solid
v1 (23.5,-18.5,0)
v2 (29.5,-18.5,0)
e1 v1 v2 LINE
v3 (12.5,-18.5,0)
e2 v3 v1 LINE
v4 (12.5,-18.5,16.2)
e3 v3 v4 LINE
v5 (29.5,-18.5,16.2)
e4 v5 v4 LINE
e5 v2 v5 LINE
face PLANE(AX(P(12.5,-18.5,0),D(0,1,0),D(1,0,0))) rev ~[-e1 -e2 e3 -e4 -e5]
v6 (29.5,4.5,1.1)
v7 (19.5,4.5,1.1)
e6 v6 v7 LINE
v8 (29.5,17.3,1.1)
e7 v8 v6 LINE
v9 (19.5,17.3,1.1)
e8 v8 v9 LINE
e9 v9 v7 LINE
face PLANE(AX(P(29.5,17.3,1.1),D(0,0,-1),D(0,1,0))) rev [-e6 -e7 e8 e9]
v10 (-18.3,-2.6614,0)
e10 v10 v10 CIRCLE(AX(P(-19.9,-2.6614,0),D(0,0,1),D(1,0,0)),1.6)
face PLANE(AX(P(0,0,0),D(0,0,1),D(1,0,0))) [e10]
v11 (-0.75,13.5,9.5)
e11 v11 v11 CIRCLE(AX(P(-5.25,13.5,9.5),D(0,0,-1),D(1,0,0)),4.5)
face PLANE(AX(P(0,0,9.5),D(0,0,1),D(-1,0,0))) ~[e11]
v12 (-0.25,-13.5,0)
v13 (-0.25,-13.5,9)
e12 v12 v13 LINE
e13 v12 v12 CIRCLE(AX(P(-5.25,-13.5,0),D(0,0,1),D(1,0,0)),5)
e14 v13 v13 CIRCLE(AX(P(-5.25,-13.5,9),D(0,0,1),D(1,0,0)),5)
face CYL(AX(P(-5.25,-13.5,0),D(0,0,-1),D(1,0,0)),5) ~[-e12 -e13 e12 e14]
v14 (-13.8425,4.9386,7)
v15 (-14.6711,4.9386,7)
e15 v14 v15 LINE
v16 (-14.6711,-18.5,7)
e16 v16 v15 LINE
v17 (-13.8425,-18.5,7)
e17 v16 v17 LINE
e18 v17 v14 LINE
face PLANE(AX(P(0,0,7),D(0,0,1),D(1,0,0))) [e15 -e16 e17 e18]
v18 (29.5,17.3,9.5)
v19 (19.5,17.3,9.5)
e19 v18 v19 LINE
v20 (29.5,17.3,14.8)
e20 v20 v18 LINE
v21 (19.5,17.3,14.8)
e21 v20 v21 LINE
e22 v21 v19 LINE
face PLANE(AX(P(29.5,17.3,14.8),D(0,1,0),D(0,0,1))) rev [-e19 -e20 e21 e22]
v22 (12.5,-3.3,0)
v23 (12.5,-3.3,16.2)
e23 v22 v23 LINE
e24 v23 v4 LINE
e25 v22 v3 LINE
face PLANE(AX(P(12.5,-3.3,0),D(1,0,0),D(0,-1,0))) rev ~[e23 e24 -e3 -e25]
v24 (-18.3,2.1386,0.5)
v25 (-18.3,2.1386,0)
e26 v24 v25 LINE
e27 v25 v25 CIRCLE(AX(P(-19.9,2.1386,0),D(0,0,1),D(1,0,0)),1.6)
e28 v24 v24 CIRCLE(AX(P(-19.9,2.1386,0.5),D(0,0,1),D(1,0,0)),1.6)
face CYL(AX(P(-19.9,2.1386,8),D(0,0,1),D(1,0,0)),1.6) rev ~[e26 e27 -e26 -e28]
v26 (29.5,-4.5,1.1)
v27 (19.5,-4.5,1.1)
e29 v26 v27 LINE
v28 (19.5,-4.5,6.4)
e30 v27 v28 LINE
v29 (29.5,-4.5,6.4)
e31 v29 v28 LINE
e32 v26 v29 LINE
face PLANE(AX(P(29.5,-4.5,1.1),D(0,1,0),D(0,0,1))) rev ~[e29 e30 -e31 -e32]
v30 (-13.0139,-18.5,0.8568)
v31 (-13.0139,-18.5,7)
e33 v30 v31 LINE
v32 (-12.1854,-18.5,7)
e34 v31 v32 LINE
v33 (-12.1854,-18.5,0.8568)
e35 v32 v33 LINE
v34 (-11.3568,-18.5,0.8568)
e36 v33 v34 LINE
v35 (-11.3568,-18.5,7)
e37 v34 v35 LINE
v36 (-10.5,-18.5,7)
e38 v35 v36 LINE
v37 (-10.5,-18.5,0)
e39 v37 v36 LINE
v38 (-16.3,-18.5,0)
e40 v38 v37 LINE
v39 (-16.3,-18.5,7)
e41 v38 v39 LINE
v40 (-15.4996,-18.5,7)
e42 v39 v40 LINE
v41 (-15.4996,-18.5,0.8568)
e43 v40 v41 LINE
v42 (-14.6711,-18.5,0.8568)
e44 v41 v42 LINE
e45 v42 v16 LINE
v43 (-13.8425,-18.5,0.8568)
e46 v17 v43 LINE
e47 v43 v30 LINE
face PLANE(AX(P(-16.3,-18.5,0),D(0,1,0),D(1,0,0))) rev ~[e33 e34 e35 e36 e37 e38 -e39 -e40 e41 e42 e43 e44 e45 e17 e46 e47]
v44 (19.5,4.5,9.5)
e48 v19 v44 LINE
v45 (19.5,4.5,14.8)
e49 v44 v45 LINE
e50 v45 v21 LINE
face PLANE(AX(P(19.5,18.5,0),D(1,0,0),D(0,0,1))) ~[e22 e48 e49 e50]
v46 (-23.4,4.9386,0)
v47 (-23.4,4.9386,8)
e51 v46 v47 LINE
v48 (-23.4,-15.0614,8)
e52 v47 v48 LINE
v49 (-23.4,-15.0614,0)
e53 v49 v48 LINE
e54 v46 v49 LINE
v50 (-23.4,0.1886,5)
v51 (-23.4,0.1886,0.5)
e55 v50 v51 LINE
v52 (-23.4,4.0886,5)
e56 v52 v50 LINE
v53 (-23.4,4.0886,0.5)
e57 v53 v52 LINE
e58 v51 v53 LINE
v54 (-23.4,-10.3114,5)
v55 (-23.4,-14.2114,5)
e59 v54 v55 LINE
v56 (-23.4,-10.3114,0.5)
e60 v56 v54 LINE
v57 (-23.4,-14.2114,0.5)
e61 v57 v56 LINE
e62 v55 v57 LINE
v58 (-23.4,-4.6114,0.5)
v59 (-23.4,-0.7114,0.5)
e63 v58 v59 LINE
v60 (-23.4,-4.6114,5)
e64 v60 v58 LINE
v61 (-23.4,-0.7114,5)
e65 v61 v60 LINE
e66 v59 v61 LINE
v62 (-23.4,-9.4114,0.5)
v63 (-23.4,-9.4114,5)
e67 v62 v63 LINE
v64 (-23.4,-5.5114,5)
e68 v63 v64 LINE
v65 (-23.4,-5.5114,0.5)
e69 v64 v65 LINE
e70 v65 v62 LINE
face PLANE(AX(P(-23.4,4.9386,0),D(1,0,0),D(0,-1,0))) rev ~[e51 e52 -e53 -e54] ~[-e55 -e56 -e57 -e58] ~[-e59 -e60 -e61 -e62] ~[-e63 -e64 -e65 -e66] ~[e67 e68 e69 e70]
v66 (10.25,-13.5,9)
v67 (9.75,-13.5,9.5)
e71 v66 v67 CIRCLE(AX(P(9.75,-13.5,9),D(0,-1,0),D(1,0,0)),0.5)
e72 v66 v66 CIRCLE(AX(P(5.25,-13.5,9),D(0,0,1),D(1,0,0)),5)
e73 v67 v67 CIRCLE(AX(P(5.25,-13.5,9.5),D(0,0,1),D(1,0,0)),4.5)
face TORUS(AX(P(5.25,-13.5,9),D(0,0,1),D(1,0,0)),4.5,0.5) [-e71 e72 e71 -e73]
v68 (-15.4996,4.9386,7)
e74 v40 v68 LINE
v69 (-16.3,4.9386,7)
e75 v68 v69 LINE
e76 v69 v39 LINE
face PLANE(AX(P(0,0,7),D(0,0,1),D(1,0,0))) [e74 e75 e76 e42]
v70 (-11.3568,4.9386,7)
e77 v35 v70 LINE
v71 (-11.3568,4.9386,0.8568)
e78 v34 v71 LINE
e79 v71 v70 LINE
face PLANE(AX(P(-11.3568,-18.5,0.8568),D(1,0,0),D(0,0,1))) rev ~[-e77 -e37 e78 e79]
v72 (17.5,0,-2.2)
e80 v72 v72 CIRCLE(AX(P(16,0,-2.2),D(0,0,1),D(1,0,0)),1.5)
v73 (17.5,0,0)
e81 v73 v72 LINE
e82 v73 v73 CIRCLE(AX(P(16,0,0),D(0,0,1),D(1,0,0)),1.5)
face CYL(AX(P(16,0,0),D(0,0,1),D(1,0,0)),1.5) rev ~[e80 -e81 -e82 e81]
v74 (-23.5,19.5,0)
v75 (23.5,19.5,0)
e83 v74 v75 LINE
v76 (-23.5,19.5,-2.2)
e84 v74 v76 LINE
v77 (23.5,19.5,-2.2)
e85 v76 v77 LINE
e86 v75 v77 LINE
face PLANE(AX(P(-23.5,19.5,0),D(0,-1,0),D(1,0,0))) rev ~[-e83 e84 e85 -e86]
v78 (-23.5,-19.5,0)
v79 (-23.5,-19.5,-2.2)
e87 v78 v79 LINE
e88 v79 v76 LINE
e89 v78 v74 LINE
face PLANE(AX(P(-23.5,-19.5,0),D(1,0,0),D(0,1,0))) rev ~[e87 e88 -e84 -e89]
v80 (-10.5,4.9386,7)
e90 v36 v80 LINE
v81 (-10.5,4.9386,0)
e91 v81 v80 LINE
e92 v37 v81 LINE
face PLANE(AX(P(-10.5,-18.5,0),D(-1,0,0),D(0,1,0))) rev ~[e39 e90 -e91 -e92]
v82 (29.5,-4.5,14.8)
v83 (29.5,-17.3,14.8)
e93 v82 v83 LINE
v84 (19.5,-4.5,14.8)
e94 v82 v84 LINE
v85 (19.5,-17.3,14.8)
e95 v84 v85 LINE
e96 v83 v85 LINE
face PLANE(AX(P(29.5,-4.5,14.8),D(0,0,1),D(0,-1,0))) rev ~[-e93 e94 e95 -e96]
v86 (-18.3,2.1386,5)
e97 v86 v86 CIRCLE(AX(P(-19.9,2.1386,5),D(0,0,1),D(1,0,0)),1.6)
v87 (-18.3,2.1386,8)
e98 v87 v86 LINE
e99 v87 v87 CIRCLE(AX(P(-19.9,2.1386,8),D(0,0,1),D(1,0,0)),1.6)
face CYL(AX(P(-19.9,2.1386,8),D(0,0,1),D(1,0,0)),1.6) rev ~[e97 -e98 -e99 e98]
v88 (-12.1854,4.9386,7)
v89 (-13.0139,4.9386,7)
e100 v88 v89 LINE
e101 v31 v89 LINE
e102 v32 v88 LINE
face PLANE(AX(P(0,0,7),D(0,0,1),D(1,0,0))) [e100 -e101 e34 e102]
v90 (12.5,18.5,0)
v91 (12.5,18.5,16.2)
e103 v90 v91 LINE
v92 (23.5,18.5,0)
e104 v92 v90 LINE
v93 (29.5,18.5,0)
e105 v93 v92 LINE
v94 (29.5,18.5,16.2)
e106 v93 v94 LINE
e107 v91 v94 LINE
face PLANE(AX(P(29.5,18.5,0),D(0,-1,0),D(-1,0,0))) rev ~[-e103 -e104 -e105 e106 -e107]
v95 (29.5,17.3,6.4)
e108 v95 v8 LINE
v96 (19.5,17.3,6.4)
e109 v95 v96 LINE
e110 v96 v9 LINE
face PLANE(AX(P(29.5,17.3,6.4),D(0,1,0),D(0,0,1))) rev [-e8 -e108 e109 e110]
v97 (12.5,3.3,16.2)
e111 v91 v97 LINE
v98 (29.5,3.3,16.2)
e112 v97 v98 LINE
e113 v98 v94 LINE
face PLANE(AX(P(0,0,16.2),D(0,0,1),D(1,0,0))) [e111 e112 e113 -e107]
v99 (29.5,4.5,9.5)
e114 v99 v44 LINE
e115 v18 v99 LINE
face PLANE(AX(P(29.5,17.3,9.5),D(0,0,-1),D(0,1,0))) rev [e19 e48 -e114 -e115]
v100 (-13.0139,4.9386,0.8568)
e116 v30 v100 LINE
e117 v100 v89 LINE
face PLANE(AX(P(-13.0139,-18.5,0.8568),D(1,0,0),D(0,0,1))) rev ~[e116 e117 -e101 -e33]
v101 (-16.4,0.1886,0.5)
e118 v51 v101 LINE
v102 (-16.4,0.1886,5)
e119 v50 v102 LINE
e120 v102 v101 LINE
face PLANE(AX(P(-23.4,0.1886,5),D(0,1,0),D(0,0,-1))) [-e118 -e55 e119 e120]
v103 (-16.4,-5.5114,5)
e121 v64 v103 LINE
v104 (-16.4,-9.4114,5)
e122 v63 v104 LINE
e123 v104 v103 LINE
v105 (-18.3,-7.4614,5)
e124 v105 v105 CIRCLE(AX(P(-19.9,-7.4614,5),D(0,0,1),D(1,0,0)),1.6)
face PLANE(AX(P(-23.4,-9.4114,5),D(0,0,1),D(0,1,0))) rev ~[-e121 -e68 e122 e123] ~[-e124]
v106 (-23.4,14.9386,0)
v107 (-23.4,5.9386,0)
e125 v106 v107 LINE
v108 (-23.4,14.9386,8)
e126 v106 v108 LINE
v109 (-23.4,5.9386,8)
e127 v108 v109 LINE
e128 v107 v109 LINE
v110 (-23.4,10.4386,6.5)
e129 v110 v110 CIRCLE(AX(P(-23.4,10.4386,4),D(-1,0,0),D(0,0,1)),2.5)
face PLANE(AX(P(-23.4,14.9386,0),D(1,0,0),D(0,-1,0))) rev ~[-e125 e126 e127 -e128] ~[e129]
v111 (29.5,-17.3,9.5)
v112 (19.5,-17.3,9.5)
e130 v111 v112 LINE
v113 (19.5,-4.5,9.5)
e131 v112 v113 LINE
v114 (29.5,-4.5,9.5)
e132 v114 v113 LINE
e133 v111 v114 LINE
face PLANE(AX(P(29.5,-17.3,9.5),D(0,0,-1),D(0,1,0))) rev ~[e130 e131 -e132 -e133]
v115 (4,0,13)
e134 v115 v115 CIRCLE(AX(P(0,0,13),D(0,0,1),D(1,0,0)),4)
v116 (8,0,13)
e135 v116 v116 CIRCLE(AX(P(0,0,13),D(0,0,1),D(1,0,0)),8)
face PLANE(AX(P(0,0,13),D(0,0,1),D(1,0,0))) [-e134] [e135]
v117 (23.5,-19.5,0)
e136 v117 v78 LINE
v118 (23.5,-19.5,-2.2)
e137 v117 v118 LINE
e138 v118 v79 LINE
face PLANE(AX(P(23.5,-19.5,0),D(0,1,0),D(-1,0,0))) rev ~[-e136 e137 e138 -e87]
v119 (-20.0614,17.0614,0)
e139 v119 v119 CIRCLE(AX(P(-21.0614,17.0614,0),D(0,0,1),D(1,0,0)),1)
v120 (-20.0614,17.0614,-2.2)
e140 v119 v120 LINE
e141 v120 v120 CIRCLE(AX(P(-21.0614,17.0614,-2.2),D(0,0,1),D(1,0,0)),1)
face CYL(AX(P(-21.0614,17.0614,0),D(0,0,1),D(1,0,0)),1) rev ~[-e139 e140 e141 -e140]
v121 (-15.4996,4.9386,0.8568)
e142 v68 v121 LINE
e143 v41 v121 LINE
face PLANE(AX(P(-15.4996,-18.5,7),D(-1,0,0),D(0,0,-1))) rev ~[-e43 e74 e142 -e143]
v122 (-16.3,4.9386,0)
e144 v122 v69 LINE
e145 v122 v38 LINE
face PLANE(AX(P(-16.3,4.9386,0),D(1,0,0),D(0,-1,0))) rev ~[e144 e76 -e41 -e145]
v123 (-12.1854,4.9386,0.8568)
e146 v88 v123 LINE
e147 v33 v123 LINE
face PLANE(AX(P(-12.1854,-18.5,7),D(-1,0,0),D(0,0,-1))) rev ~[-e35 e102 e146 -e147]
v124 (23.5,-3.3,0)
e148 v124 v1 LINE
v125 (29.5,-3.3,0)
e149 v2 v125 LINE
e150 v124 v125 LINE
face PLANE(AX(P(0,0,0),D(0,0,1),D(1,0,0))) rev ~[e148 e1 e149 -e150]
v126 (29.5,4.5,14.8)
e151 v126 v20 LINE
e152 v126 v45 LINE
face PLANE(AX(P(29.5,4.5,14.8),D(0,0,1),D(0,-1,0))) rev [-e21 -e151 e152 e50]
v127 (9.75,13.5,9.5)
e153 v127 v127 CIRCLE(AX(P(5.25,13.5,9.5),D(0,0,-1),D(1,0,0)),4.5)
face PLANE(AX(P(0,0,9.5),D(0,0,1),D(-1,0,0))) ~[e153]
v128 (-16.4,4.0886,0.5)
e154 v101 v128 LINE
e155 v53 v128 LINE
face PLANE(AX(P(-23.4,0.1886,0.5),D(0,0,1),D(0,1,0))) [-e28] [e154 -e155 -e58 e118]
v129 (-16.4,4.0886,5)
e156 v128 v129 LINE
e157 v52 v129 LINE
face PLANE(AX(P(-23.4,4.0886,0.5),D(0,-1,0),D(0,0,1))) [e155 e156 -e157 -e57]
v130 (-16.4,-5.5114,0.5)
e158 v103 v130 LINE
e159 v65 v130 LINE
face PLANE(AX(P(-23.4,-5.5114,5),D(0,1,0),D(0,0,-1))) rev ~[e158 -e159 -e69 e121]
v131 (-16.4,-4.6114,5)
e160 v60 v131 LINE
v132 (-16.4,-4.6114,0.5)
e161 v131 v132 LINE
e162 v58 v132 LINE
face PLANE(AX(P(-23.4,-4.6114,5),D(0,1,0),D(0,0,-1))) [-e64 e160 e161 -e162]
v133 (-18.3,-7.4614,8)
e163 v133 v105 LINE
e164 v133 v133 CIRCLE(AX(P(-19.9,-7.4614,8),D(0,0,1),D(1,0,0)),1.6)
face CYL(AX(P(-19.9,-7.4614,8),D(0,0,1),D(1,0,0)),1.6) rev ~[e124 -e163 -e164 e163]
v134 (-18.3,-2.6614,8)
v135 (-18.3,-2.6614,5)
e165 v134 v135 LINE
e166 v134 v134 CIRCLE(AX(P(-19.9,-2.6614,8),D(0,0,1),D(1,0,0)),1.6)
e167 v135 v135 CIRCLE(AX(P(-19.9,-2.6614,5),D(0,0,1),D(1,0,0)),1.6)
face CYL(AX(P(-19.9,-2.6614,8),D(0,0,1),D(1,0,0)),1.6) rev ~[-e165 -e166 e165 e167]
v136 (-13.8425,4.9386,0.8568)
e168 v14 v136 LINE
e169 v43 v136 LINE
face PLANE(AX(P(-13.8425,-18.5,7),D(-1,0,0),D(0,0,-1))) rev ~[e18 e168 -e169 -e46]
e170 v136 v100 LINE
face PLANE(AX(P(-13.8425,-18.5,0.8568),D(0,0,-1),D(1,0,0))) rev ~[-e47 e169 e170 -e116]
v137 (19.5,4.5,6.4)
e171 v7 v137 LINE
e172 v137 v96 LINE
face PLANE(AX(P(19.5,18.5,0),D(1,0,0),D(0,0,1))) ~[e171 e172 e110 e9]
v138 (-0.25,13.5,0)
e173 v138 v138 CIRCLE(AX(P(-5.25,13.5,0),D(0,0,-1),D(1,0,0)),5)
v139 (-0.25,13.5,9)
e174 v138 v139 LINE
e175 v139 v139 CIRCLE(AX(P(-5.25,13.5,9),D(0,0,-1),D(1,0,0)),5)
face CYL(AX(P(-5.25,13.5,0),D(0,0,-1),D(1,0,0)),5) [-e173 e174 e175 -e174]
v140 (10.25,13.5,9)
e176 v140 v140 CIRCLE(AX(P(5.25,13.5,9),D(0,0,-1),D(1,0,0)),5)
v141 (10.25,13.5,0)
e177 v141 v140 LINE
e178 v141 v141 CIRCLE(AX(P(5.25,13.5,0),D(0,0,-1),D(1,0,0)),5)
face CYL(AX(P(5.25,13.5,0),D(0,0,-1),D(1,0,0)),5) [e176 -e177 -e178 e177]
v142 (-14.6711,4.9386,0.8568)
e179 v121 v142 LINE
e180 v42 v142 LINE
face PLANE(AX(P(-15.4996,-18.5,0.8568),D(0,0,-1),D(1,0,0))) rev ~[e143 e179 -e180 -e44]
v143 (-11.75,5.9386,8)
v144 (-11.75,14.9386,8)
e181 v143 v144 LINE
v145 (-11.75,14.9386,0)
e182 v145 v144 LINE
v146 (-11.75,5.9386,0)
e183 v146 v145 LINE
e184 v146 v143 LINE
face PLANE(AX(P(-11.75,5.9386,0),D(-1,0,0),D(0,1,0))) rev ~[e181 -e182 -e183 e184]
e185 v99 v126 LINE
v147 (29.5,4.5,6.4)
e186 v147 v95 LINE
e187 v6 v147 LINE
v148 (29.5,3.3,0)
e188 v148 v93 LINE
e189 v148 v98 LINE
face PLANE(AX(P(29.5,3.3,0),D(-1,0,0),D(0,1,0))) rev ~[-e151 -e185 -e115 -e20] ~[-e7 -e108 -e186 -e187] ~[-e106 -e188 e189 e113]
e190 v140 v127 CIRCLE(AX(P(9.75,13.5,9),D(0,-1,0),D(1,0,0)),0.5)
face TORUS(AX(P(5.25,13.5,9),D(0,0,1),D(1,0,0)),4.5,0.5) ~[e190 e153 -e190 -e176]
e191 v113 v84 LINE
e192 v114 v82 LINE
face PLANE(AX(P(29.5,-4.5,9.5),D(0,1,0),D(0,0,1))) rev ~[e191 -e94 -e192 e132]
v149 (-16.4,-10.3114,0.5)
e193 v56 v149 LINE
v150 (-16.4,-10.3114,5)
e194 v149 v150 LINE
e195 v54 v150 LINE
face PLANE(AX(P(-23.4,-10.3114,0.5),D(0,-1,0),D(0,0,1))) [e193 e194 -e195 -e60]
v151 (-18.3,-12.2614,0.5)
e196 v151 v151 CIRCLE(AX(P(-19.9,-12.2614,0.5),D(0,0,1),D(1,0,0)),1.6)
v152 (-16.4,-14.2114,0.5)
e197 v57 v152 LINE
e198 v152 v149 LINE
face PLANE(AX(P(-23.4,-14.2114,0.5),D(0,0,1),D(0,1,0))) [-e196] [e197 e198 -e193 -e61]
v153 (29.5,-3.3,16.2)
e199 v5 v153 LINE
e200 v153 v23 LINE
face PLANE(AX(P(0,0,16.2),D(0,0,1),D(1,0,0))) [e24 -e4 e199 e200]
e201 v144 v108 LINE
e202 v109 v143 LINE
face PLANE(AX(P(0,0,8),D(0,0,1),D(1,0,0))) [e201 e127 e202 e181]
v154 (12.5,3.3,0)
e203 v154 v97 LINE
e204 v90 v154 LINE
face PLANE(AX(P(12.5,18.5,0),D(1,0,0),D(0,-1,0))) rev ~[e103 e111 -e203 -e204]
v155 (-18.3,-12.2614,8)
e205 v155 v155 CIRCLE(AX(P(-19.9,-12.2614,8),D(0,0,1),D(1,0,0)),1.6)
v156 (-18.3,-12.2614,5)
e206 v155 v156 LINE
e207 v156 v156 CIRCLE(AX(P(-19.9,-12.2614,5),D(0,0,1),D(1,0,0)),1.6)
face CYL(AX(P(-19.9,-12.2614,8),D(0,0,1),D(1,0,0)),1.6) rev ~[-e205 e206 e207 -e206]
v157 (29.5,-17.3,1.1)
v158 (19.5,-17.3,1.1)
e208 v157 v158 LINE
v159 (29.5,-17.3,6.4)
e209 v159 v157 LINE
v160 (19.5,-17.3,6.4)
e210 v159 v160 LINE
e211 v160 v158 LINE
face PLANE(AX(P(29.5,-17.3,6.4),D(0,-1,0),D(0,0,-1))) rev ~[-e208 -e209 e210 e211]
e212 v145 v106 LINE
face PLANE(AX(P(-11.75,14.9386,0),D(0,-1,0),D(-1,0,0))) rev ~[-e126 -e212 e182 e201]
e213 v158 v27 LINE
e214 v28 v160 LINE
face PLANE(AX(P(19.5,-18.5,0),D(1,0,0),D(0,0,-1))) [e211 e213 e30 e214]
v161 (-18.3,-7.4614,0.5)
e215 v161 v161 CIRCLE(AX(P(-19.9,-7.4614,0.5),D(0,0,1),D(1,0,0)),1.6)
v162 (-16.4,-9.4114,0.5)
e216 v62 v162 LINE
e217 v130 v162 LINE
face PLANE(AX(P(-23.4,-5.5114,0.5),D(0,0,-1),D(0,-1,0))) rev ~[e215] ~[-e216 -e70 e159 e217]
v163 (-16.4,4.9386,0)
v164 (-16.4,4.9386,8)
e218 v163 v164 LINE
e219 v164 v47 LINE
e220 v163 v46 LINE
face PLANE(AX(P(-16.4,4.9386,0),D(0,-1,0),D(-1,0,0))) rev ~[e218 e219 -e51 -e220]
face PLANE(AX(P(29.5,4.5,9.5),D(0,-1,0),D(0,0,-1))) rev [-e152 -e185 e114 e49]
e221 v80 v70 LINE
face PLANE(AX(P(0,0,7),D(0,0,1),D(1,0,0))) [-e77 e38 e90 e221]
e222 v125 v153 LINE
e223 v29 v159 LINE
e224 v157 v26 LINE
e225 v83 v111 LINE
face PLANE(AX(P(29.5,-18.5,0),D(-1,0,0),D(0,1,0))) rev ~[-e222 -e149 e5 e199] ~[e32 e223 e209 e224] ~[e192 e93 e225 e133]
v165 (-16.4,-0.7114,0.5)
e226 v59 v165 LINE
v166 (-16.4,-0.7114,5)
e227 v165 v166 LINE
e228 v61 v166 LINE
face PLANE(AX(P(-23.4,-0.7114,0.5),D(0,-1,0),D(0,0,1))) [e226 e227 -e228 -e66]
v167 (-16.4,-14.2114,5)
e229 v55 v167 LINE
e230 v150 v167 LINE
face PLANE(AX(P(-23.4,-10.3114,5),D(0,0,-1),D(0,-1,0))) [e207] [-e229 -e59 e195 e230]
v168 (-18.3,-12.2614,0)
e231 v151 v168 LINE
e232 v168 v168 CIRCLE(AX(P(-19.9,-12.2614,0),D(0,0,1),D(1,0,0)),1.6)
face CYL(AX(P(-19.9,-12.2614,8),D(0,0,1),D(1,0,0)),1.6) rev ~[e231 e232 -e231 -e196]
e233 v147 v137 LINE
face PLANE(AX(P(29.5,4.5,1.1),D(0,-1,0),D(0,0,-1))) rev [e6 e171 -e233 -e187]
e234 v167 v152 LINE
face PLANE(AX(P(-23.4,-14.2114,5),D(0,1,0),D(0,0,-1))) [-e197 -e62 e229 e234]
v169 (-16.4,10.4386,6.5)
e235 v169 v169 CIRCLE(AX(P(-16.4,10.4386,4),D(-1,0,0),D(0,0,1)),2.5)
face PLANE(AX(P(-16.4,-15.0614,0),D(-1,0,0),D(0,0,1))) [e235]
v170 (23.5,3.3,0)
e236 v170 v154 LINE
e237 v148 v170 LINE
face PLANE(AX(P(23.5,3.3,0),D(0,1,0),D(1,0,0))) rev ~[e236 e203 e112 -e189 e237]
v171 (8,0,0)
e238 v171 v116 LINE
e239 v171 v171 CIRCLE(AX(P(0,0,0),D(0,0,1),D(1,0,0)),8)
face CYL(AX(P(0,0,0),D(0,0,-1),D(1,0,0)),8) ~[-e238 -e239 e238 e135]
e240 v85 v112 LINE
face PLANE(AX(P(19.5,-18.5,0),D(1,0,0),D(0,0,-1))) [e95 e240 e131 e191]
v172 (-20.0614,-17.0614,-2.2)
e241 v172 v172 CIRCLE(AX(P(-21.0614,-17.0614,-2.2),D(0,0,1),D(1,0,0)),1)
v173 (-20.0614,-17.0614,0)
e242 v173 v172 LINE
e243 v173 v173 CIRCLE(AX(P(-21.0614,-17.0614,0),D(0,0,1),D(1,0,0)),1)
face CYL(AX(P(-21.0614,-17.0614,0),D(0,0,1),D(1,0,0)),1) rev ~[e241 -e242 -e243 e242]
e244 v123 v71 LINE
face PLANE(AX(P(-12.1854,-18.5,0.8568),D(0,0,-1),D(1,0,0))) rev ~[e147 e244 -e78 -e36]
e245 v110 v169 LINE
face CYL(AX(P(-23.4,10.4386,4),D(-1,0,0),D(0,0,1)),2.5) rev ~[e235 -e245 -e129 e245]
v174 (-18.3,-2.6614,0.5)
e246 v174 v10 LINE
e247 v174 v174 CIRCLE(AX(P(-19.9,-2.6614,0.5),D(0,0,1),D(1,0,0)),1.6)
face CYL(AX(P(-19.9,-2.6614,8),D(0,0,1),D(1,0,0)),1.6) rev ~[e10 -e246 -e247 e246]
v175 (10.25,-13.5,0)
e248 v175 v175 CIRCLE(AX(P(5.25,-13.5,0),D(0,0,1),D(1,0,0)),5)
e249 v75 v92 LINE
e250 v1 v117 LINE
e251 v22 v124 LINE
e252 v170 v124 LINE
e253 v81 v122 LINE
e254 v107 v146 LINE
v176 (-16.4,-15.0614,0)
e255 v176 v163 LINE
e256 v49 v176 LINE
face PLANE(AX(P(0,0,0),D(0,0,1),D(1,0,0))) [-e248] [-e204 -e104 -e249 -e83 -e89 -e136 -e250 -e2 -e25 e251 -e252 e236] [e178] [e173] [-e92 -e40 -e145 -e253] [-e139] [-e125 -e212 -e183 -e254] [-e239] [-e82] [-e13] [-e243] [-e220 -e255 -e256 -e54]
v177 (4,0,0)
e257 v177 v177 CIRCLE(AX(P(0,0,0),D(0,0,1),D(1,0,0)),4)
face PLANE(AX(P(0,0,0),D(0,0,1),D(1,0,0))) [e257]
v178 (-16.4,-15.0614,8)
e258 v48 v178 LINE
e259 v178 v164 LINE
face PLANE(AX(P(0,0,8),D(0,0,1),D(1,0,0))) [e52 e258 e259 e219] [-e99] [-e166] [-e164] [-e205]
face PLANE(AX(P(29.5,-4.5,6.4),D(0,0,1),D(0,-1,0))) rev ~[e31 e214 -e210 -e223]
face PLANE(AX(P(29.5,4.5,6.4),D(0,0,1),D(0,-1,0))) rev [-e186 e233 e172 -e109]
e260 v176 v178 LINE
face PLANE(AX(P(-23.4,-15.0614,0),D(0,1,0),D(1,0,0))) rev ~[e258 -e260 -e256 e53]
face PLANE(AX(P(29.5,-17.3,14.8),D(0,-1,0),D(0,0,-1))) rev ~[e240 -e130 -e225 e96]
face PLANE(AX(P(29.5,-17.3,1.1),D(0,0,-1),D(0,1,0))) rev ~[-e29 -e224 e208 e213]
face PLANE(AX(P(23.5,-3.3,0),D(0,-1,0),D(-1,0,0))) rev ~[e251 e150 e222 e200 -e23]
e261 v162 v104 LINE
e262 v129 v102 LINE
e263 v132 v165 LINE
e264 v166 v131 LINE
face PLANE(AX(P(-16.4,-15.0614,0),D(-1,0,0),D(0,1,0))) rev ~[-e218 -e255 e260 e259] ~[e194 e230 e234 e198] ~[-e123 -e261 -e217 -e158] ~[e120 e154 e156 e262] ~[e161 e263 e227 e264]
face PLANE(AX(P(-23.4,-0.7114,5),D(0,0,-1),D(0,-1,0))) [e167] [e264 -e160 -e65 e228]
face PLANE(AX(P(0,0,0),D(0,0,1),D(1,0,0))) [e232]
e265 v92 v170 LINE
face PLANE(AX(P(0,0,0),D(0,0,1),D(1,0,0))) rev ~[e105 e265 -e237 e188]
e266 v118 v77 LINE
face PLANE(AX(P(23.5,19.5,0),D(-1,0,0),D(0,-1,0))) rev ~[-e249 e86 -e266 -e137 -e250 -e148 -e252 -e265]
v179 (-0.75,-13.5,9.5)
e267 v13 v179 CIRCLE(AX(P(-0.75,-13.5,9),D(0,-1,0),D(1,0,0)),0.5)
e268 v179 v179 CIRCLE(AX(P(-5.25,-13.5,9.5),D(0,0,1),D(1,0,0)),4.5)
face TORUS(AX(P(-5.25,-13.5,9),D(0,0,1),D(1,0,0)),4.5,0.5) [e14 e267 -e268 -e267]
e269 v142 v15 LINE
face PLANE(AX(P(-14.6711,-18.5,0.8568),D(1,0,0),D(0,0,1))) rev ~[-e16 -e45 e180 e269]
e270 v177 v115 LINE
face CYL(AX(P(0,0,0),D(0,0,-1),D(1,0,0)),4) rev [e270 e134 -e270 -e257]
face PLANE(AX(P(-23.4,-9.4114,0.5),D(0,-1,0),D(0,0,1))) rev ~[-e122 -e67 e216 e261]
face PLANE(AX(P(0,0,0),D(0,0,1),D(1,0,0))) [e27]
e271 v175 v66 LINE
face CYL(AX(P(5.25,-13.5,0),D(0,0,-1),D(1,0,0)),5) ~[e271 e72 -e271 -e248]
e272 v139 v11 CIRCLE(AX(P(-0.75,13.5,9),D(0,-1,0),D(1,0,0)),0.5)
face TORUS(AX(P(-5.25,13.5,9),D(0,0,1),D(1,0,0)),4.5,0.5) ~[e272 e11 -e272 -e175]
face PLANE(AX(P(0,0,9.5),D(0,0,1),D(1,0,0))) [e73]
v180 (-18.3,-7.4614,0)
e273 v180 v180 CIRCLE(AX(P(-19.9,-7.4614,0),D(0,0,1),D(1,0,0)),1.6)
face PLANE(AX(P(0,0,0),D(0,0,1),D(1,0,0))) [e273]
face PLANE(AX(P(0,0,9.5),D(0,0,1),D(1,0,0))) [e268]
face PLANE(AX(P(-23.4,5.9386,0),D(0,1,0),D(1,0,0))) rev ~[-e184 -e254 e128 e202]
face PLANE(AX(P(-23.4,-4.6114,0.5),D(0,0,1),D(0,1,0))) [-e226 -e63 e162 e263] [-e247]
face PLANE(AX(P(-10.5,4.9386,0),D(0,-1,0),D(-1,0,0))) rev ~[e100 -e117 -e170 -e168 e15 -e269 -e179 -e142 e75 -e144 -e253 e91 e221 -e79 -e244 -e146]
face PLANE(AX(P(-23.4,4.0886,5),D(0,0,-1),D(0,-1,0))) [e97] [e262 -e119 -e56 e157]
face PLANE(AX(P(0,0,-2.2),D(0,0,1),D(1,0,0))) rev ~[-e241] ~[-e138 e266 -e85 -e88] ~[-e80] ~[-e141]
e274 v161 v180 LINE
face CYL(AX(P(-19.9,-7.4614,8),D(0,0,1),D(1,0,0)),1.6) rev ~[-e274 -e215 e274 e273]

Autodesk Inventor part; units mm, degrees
ref_plane "YZ Plane" through (0, 0, 0) normal (1, 0, 0) x (0, 1, 0)
ref_plane "XZ Plane" through (0, 0, 0) normal (0, 1, 0) x (-1, 0, 0)
ref_plane "XY Plane" through (0, 0, 0) normal (0, 0, 1) x (1, 0, 0)
sketch "Skizze1" plane through (0, 0, 0) normal (0, 0, 1) x (1, 0, 0)
  line L0 (-23.5, 19.5) -> (23.5, 19.5)
  line L1 (23.5, 19.5) -> (23.5, -19.5)
  line L2 (23.5, -19.5) -> (-23.5, -19.5)
  line L3 (-23.5, -19.5) -> (-23.5, 19.5)
  line L4 (-23.5, -19.5) -> (23.5, 19.5) construction
  circle A0 centre (-21.0614, 17.0614) radius 1
  circle A1 centre (16, 0) radius 1.5
  line L5 (-23.5, 0) -> (23.5, 0) construction
  circle A2 centre (-21.0614, -17.0614) radius 1
  line L6 (-21.0614, -17.0614) -> (-21.0614, 17.0614) construction
  line L7 (-23.5, 19.5) -> (-21.0614, 17.0614) construction
  line L8 (12.5, -18.5) -> (29.5, -18.5)
  line L9 (29.5, -18.5) -> (29.5, -3.3)
  line L10 (29.5, -3.3) -> (12.5, -3.3)
  line L11 (12.5, -3.3) -> (12.5, -18.5)
  line L12 (12.5, 3.3) -> (29.5, 3.3)
  line L13 (29.5, 3.3) -> (29.5, 18.5)
  line L14 (29.5, 18.5) -> (12.5, 18.5)
  line L15 (12.5, 18.5) -> (12.5, 3.3)
  circle A3 centre (-5.25, -13.5) radius 5
  circle A4 centre (5.25, -13.5) radius 5
  circle A5 centre (-5.25, 13.5) radius 5
  circle A6 centre (5.25, 13.5) radius 5
  circle A7 centre (0, 0) radius 8
  circle A8 centre (0, 0) radius 4
  line L16 (-23.4, 5.9386) -> (-11.75, 5.9386)
  line L17 (-11.75, 5.9386) -> (-11.75, 14.9386)
  line L18 (-11.75, 14.9386) -> (-23.4, 14.9386)
  line L19 (-23.4, 14.9386) -> (-23.4, 5.9386)
  line L20 (-23.4, -15.0614) -> (-16.4, -15.0614)
  line L21 (-16.4, -15.0614) -> (-16.4, 4.9386)
  line L22 (-16.4, 4.9386) -> (-23.4, 4.9386)
  line L23 (-23.4, 4.9386) -> (-23.4, -15.0614)
  line L24 (0, 19.5) -> (0, -19.5) construction
  line L25 (-16.3, -18.5) -> (-10.5, -18.5)
  line L26 (-10.5, -18.5) -> (-10.5, 4.9386)
  line L27 (-10.5, 4.9386) -> (-16.3, 4.9386)
  line L28 (-16.3, 4.9386) -> (-16.3, -18.5)
  dimension "d0" = 39
  dimension "d1" = 47
  dimension "d2" = 3
  dimension "d3" = 2
  dimension "d4" = 38.3
  dimension "d5" = 6
  dimension "d6" = 45
  dimension "d7" = 10
  dimension "d8" = 0.5
  dimension "d9" = 1
  dimension "d10" = 16
  dimension "d11" = 15.2
  dimension "d13" = 6
  dimension "d14" = 17
  dimension "d15" = 15.2
  dimension "d16" = 1
  dimension "d17" = 8
  dimension "d18" = 20
  dimension "d19" = 7
  dimension "d20" = 0.1
  dimension "d21" = 5.8
  dimension "d22" = 0.1
  dimension "d23" = 1
  dimension "d24" = 1
  dimension "d25" = 0.1
  dimension "d26" = 9
  dimension "d27" = 1
  dimension "d28" = 1.5
extrude "Extrusion1" add sketch "Skizze1" against normal blind 2.2 contours L0 L1 L14 L15 L12 L10 L11 L8 L2 L3 | L1 L12 L15 L14 | L8 L11 L10 L1 | A3 | A4 | A5 | A6 | A7 | A8 | L19 L18 L17 L16 | L23 L22 L21 L20 | L28 L27 L26 L25
extrude "Extrusion2" add sketch "Skizze1" along normal blind 16.2 contours L14 L13 L12 L1 | L1 L12 L15 L14 | L8 L11 L10 L1 | L1 L10 L9 L8
sketch "Skizze2" plane through (29.5, -18.5, 0) normal (1, 0, 0) x (0, 0, -1)
  line L0 (-14.8, 1.2) -> (-9.5, 1.2)
  line L1 (-9.5, 1.2) -> (-9.5, 14)
  line L2 (-9.5, 14) -> (-14.8, 14)
  line L3 (-14.8, 14) -> (-14.8, 1.2)
  line L4 (-6.4, 1.2) -> (-1.1, 1.2)
  line L5 (-1.1, 1.2) -> (-1.1, 14)
  line L6 (-1.1, 14) -> (-6.4, 14)
  line L7 (-6.4, 14) -> (-6.4, 1.2)
  line L8 (0, 0) -> (0, 15.2) projected
  line L9 (-16.2, 15.2) -> (-16.2, 0) projected
  line L10 (-16.2, 7.6) -> (0, 7.6) construction
  line L11 (0, 38) -> (0, -1) projected
  point P0 (0, 18.5)
  dimension "d33" = 1.1
  dimension "d34" = 5.3
  dimension "d35" = 5.3
  dimension "d36" = 3.1
  dimension "d37" = 12.8
extrude "Extrusion3" cut sketch "Skizze2" against normal blind 10
extrude "Extrusion4" add sketch "Skizze1" along normal blind 9.5 contours A3 | A4
mirror "Spiegeln1" about plane through (0, 0, 0) normal (0, 1, 0) of "Extrusion4", "Extrusion3"
extrude "Extrusion5" add sketch "Skizze1" along normal blind 13 contours A7
extrude "Extrusion6" add sketch "Skizze1" along normal blind 8 contours L23 L22 L21 L20
extrude "Extrusion11" add sketch "Skizze1" along normal blind 8 contours L19 L18 L17 L16
extrude "Extrusion7" add sketch "Skizze1" along normal blind 7 contours L28 L27 L26 L25
sketch "Skizze3" plane through (-16.3, -18.5, 0) normal (0, -1, 0) x (1, 0, 0)
  line L0 (0, 7) -> (5.8, 7) projected
  line L1 (0.8004, 7) -> (0.8004, 0.8568)
  line L2 (0.8004, 0.8568) -> (1.6289, 0.8568)
  line L3 (1.6289, 0.8568) -> (1.6289, 7)
  line L4 (2.4575, 7) -> (2.4575, 0.8568)
  line L5 (2.4575, 0.8568) -> (3.2861, 0.8568)
  line L6 (3.2861, 0.8568) -> (3.2861, 7)
  line L7 (4.1146, 7) -> (4.1146, 0.8568)
  line L8 (4.1146, 0.8568) -> (4.9432, 0.8568)
  line L9 (4.9432, 0.8568) -> (4.9432, 7)
  line L10 (0, 0) -> (0, 7) projected
  line L11 (5.8, 0) -> (5.8, 7) projected
  point P0 (16.3, 0)
  dimension "d48" = 5.8
  dimension "d49" = 0.8286
  dimension "d50" = 0.8286
  dimension "d51" = 0.8286
extrude "Extrusion8" cut sketch "Skizze3" against normal up to surface (23.4386 mm away)
fillet "Rundung1" radius 0.5 4 edges at (-10.25, -13.5, 9.5) (0.25, -13.5, 9.5) (-10.25, 13.5, 9.5) (0.25, 13.5, 9.5)
sketch "Skizze4" plane through (0, 0, 8) normal (0, 0, 1) x (1, 0, 0)
  circle A0 centre (-19.9, 2.1386) radius 1.6
  circle A1 centre (-19.9, -2.6614) radius 1.6
  circle A2 centre (-19.9, -7.4614) radius 1.6
  circle A3 centre (-19.9, -12.2614) radius 1.6
  line L0 (-16.4, 4.9386) -> (-23.4, 4.9386) projected
  line L1 (-19.9, 4.9386) -> (-19.9, -15.0614) construction
  line L2 (-16.4, -15.0614) -> (-23.4, -15.0614) projected
  line L3 (-23.4, -15.0614) -> (-23.4, 4.9386) projected
  line L4 (-23.4, -5.0614) -> (-16.4, -5.0614) construction
  point P0 (0, 0)
  dimension "d55" = 3.2
  dimension "d56" = 4.8
  dimension "d57" = 4.8
  dimension "d58" = 4.8
extrude "Extrusion9" cut sketch "Skizze4" against normal up to surface (8 mm away)
sketch "Skizze5" plane through (-23.4, -15.0614, 0) normal (-1, 0, 0) x (0, 0, 1)
  line L0 (0.5, 19.15) -> (5, 19.15)
  line L1 (5, 19.15) -> (5, 15.25)
  line L2 (5, 15.25) -> (0.5, 15.25)
  line L3 (0.5, 15.25) -> (0.5, 19.15)
  line L4 (0.5, 14.35) -> (5, 14.35)
  line L5 (5, 14.35) -> (5, 10.45)
  line L6 (5, 10.45) -> (0.5, 10.45)
  line L7 (0.5, 10.45) -> (0.5, 14.35)
  line L8 (0.5, 5.65) -> (5, 5.65)
  line L9 (5, 5.65) -> (5, 9.55)
  line L10 (5, 9.55) -> (0.5, 9.55)
  line L11 (0.5, 9.55) -> (0.5, 5.65)
  line L12 (0.5, 4.75) -> (5, 4.75)
  line L13 (5, 4.75) -> (5, 0.85)
  line L14 (5, 0.85) -> (0.5, 0.85)
  line L15 (0.5, 0.85) -> (0.5, 4.75)
  line L16 (8, 17.2) -> (5, 17.2) construction
  line L17 (0.5, 17.2) -> (5, 17.2) construction
  line L18 (0.5, 12.4) -> (5, 12.4) construction
  line L19 (8, 12.4) -> (5, 12.4) construction
  line L20 (8, 7.6) -> (5, 7.6) construction
  line L21 (0.5, 7.6) -> (5, 7.6) construction
  line L22 (8, 20) -> (8, 0) construction
  line L23 (0.5, 2.8) -> (5, 2.8) construction
  line L24 (5, 2.8) -> (8, 2.8) construction
  line L25 (0, 34.5614) -> (0, -4.4386) construction
  circle A0 centre (4, 25.5) radius 2.5
  line L26 (4, 30) -> (4, 21) construction
  line L27 (8, 25.5) -> (0, 25.5) construction
  line L28 (0, 30) -> (8, 30) projected
  line L29 (8, 30) -> (8, 21) projected
  line L30 (0, 21) -> (8, 21) projected
  line L31 (0, 21) -> (0, 30) projected
  point P0 (0, 15.0614)
  point P1 (4, 25.5)
  dimension "d61" = 0.5
  dimension "d62" = 4.5
  dimension "d63" = 3.9
  dimension "d66" = 5
extrude "Extrusion10" cut sketch "Skizze5" against normal blind 7 contours L0 L1 L2 L3 | L4 L5 L6 L7 | L11 L10 L9 L8 | L12 L13 L14 L15 | A0
equation "\"d15\" = d11"
properties part number "Step_Down_USB"
